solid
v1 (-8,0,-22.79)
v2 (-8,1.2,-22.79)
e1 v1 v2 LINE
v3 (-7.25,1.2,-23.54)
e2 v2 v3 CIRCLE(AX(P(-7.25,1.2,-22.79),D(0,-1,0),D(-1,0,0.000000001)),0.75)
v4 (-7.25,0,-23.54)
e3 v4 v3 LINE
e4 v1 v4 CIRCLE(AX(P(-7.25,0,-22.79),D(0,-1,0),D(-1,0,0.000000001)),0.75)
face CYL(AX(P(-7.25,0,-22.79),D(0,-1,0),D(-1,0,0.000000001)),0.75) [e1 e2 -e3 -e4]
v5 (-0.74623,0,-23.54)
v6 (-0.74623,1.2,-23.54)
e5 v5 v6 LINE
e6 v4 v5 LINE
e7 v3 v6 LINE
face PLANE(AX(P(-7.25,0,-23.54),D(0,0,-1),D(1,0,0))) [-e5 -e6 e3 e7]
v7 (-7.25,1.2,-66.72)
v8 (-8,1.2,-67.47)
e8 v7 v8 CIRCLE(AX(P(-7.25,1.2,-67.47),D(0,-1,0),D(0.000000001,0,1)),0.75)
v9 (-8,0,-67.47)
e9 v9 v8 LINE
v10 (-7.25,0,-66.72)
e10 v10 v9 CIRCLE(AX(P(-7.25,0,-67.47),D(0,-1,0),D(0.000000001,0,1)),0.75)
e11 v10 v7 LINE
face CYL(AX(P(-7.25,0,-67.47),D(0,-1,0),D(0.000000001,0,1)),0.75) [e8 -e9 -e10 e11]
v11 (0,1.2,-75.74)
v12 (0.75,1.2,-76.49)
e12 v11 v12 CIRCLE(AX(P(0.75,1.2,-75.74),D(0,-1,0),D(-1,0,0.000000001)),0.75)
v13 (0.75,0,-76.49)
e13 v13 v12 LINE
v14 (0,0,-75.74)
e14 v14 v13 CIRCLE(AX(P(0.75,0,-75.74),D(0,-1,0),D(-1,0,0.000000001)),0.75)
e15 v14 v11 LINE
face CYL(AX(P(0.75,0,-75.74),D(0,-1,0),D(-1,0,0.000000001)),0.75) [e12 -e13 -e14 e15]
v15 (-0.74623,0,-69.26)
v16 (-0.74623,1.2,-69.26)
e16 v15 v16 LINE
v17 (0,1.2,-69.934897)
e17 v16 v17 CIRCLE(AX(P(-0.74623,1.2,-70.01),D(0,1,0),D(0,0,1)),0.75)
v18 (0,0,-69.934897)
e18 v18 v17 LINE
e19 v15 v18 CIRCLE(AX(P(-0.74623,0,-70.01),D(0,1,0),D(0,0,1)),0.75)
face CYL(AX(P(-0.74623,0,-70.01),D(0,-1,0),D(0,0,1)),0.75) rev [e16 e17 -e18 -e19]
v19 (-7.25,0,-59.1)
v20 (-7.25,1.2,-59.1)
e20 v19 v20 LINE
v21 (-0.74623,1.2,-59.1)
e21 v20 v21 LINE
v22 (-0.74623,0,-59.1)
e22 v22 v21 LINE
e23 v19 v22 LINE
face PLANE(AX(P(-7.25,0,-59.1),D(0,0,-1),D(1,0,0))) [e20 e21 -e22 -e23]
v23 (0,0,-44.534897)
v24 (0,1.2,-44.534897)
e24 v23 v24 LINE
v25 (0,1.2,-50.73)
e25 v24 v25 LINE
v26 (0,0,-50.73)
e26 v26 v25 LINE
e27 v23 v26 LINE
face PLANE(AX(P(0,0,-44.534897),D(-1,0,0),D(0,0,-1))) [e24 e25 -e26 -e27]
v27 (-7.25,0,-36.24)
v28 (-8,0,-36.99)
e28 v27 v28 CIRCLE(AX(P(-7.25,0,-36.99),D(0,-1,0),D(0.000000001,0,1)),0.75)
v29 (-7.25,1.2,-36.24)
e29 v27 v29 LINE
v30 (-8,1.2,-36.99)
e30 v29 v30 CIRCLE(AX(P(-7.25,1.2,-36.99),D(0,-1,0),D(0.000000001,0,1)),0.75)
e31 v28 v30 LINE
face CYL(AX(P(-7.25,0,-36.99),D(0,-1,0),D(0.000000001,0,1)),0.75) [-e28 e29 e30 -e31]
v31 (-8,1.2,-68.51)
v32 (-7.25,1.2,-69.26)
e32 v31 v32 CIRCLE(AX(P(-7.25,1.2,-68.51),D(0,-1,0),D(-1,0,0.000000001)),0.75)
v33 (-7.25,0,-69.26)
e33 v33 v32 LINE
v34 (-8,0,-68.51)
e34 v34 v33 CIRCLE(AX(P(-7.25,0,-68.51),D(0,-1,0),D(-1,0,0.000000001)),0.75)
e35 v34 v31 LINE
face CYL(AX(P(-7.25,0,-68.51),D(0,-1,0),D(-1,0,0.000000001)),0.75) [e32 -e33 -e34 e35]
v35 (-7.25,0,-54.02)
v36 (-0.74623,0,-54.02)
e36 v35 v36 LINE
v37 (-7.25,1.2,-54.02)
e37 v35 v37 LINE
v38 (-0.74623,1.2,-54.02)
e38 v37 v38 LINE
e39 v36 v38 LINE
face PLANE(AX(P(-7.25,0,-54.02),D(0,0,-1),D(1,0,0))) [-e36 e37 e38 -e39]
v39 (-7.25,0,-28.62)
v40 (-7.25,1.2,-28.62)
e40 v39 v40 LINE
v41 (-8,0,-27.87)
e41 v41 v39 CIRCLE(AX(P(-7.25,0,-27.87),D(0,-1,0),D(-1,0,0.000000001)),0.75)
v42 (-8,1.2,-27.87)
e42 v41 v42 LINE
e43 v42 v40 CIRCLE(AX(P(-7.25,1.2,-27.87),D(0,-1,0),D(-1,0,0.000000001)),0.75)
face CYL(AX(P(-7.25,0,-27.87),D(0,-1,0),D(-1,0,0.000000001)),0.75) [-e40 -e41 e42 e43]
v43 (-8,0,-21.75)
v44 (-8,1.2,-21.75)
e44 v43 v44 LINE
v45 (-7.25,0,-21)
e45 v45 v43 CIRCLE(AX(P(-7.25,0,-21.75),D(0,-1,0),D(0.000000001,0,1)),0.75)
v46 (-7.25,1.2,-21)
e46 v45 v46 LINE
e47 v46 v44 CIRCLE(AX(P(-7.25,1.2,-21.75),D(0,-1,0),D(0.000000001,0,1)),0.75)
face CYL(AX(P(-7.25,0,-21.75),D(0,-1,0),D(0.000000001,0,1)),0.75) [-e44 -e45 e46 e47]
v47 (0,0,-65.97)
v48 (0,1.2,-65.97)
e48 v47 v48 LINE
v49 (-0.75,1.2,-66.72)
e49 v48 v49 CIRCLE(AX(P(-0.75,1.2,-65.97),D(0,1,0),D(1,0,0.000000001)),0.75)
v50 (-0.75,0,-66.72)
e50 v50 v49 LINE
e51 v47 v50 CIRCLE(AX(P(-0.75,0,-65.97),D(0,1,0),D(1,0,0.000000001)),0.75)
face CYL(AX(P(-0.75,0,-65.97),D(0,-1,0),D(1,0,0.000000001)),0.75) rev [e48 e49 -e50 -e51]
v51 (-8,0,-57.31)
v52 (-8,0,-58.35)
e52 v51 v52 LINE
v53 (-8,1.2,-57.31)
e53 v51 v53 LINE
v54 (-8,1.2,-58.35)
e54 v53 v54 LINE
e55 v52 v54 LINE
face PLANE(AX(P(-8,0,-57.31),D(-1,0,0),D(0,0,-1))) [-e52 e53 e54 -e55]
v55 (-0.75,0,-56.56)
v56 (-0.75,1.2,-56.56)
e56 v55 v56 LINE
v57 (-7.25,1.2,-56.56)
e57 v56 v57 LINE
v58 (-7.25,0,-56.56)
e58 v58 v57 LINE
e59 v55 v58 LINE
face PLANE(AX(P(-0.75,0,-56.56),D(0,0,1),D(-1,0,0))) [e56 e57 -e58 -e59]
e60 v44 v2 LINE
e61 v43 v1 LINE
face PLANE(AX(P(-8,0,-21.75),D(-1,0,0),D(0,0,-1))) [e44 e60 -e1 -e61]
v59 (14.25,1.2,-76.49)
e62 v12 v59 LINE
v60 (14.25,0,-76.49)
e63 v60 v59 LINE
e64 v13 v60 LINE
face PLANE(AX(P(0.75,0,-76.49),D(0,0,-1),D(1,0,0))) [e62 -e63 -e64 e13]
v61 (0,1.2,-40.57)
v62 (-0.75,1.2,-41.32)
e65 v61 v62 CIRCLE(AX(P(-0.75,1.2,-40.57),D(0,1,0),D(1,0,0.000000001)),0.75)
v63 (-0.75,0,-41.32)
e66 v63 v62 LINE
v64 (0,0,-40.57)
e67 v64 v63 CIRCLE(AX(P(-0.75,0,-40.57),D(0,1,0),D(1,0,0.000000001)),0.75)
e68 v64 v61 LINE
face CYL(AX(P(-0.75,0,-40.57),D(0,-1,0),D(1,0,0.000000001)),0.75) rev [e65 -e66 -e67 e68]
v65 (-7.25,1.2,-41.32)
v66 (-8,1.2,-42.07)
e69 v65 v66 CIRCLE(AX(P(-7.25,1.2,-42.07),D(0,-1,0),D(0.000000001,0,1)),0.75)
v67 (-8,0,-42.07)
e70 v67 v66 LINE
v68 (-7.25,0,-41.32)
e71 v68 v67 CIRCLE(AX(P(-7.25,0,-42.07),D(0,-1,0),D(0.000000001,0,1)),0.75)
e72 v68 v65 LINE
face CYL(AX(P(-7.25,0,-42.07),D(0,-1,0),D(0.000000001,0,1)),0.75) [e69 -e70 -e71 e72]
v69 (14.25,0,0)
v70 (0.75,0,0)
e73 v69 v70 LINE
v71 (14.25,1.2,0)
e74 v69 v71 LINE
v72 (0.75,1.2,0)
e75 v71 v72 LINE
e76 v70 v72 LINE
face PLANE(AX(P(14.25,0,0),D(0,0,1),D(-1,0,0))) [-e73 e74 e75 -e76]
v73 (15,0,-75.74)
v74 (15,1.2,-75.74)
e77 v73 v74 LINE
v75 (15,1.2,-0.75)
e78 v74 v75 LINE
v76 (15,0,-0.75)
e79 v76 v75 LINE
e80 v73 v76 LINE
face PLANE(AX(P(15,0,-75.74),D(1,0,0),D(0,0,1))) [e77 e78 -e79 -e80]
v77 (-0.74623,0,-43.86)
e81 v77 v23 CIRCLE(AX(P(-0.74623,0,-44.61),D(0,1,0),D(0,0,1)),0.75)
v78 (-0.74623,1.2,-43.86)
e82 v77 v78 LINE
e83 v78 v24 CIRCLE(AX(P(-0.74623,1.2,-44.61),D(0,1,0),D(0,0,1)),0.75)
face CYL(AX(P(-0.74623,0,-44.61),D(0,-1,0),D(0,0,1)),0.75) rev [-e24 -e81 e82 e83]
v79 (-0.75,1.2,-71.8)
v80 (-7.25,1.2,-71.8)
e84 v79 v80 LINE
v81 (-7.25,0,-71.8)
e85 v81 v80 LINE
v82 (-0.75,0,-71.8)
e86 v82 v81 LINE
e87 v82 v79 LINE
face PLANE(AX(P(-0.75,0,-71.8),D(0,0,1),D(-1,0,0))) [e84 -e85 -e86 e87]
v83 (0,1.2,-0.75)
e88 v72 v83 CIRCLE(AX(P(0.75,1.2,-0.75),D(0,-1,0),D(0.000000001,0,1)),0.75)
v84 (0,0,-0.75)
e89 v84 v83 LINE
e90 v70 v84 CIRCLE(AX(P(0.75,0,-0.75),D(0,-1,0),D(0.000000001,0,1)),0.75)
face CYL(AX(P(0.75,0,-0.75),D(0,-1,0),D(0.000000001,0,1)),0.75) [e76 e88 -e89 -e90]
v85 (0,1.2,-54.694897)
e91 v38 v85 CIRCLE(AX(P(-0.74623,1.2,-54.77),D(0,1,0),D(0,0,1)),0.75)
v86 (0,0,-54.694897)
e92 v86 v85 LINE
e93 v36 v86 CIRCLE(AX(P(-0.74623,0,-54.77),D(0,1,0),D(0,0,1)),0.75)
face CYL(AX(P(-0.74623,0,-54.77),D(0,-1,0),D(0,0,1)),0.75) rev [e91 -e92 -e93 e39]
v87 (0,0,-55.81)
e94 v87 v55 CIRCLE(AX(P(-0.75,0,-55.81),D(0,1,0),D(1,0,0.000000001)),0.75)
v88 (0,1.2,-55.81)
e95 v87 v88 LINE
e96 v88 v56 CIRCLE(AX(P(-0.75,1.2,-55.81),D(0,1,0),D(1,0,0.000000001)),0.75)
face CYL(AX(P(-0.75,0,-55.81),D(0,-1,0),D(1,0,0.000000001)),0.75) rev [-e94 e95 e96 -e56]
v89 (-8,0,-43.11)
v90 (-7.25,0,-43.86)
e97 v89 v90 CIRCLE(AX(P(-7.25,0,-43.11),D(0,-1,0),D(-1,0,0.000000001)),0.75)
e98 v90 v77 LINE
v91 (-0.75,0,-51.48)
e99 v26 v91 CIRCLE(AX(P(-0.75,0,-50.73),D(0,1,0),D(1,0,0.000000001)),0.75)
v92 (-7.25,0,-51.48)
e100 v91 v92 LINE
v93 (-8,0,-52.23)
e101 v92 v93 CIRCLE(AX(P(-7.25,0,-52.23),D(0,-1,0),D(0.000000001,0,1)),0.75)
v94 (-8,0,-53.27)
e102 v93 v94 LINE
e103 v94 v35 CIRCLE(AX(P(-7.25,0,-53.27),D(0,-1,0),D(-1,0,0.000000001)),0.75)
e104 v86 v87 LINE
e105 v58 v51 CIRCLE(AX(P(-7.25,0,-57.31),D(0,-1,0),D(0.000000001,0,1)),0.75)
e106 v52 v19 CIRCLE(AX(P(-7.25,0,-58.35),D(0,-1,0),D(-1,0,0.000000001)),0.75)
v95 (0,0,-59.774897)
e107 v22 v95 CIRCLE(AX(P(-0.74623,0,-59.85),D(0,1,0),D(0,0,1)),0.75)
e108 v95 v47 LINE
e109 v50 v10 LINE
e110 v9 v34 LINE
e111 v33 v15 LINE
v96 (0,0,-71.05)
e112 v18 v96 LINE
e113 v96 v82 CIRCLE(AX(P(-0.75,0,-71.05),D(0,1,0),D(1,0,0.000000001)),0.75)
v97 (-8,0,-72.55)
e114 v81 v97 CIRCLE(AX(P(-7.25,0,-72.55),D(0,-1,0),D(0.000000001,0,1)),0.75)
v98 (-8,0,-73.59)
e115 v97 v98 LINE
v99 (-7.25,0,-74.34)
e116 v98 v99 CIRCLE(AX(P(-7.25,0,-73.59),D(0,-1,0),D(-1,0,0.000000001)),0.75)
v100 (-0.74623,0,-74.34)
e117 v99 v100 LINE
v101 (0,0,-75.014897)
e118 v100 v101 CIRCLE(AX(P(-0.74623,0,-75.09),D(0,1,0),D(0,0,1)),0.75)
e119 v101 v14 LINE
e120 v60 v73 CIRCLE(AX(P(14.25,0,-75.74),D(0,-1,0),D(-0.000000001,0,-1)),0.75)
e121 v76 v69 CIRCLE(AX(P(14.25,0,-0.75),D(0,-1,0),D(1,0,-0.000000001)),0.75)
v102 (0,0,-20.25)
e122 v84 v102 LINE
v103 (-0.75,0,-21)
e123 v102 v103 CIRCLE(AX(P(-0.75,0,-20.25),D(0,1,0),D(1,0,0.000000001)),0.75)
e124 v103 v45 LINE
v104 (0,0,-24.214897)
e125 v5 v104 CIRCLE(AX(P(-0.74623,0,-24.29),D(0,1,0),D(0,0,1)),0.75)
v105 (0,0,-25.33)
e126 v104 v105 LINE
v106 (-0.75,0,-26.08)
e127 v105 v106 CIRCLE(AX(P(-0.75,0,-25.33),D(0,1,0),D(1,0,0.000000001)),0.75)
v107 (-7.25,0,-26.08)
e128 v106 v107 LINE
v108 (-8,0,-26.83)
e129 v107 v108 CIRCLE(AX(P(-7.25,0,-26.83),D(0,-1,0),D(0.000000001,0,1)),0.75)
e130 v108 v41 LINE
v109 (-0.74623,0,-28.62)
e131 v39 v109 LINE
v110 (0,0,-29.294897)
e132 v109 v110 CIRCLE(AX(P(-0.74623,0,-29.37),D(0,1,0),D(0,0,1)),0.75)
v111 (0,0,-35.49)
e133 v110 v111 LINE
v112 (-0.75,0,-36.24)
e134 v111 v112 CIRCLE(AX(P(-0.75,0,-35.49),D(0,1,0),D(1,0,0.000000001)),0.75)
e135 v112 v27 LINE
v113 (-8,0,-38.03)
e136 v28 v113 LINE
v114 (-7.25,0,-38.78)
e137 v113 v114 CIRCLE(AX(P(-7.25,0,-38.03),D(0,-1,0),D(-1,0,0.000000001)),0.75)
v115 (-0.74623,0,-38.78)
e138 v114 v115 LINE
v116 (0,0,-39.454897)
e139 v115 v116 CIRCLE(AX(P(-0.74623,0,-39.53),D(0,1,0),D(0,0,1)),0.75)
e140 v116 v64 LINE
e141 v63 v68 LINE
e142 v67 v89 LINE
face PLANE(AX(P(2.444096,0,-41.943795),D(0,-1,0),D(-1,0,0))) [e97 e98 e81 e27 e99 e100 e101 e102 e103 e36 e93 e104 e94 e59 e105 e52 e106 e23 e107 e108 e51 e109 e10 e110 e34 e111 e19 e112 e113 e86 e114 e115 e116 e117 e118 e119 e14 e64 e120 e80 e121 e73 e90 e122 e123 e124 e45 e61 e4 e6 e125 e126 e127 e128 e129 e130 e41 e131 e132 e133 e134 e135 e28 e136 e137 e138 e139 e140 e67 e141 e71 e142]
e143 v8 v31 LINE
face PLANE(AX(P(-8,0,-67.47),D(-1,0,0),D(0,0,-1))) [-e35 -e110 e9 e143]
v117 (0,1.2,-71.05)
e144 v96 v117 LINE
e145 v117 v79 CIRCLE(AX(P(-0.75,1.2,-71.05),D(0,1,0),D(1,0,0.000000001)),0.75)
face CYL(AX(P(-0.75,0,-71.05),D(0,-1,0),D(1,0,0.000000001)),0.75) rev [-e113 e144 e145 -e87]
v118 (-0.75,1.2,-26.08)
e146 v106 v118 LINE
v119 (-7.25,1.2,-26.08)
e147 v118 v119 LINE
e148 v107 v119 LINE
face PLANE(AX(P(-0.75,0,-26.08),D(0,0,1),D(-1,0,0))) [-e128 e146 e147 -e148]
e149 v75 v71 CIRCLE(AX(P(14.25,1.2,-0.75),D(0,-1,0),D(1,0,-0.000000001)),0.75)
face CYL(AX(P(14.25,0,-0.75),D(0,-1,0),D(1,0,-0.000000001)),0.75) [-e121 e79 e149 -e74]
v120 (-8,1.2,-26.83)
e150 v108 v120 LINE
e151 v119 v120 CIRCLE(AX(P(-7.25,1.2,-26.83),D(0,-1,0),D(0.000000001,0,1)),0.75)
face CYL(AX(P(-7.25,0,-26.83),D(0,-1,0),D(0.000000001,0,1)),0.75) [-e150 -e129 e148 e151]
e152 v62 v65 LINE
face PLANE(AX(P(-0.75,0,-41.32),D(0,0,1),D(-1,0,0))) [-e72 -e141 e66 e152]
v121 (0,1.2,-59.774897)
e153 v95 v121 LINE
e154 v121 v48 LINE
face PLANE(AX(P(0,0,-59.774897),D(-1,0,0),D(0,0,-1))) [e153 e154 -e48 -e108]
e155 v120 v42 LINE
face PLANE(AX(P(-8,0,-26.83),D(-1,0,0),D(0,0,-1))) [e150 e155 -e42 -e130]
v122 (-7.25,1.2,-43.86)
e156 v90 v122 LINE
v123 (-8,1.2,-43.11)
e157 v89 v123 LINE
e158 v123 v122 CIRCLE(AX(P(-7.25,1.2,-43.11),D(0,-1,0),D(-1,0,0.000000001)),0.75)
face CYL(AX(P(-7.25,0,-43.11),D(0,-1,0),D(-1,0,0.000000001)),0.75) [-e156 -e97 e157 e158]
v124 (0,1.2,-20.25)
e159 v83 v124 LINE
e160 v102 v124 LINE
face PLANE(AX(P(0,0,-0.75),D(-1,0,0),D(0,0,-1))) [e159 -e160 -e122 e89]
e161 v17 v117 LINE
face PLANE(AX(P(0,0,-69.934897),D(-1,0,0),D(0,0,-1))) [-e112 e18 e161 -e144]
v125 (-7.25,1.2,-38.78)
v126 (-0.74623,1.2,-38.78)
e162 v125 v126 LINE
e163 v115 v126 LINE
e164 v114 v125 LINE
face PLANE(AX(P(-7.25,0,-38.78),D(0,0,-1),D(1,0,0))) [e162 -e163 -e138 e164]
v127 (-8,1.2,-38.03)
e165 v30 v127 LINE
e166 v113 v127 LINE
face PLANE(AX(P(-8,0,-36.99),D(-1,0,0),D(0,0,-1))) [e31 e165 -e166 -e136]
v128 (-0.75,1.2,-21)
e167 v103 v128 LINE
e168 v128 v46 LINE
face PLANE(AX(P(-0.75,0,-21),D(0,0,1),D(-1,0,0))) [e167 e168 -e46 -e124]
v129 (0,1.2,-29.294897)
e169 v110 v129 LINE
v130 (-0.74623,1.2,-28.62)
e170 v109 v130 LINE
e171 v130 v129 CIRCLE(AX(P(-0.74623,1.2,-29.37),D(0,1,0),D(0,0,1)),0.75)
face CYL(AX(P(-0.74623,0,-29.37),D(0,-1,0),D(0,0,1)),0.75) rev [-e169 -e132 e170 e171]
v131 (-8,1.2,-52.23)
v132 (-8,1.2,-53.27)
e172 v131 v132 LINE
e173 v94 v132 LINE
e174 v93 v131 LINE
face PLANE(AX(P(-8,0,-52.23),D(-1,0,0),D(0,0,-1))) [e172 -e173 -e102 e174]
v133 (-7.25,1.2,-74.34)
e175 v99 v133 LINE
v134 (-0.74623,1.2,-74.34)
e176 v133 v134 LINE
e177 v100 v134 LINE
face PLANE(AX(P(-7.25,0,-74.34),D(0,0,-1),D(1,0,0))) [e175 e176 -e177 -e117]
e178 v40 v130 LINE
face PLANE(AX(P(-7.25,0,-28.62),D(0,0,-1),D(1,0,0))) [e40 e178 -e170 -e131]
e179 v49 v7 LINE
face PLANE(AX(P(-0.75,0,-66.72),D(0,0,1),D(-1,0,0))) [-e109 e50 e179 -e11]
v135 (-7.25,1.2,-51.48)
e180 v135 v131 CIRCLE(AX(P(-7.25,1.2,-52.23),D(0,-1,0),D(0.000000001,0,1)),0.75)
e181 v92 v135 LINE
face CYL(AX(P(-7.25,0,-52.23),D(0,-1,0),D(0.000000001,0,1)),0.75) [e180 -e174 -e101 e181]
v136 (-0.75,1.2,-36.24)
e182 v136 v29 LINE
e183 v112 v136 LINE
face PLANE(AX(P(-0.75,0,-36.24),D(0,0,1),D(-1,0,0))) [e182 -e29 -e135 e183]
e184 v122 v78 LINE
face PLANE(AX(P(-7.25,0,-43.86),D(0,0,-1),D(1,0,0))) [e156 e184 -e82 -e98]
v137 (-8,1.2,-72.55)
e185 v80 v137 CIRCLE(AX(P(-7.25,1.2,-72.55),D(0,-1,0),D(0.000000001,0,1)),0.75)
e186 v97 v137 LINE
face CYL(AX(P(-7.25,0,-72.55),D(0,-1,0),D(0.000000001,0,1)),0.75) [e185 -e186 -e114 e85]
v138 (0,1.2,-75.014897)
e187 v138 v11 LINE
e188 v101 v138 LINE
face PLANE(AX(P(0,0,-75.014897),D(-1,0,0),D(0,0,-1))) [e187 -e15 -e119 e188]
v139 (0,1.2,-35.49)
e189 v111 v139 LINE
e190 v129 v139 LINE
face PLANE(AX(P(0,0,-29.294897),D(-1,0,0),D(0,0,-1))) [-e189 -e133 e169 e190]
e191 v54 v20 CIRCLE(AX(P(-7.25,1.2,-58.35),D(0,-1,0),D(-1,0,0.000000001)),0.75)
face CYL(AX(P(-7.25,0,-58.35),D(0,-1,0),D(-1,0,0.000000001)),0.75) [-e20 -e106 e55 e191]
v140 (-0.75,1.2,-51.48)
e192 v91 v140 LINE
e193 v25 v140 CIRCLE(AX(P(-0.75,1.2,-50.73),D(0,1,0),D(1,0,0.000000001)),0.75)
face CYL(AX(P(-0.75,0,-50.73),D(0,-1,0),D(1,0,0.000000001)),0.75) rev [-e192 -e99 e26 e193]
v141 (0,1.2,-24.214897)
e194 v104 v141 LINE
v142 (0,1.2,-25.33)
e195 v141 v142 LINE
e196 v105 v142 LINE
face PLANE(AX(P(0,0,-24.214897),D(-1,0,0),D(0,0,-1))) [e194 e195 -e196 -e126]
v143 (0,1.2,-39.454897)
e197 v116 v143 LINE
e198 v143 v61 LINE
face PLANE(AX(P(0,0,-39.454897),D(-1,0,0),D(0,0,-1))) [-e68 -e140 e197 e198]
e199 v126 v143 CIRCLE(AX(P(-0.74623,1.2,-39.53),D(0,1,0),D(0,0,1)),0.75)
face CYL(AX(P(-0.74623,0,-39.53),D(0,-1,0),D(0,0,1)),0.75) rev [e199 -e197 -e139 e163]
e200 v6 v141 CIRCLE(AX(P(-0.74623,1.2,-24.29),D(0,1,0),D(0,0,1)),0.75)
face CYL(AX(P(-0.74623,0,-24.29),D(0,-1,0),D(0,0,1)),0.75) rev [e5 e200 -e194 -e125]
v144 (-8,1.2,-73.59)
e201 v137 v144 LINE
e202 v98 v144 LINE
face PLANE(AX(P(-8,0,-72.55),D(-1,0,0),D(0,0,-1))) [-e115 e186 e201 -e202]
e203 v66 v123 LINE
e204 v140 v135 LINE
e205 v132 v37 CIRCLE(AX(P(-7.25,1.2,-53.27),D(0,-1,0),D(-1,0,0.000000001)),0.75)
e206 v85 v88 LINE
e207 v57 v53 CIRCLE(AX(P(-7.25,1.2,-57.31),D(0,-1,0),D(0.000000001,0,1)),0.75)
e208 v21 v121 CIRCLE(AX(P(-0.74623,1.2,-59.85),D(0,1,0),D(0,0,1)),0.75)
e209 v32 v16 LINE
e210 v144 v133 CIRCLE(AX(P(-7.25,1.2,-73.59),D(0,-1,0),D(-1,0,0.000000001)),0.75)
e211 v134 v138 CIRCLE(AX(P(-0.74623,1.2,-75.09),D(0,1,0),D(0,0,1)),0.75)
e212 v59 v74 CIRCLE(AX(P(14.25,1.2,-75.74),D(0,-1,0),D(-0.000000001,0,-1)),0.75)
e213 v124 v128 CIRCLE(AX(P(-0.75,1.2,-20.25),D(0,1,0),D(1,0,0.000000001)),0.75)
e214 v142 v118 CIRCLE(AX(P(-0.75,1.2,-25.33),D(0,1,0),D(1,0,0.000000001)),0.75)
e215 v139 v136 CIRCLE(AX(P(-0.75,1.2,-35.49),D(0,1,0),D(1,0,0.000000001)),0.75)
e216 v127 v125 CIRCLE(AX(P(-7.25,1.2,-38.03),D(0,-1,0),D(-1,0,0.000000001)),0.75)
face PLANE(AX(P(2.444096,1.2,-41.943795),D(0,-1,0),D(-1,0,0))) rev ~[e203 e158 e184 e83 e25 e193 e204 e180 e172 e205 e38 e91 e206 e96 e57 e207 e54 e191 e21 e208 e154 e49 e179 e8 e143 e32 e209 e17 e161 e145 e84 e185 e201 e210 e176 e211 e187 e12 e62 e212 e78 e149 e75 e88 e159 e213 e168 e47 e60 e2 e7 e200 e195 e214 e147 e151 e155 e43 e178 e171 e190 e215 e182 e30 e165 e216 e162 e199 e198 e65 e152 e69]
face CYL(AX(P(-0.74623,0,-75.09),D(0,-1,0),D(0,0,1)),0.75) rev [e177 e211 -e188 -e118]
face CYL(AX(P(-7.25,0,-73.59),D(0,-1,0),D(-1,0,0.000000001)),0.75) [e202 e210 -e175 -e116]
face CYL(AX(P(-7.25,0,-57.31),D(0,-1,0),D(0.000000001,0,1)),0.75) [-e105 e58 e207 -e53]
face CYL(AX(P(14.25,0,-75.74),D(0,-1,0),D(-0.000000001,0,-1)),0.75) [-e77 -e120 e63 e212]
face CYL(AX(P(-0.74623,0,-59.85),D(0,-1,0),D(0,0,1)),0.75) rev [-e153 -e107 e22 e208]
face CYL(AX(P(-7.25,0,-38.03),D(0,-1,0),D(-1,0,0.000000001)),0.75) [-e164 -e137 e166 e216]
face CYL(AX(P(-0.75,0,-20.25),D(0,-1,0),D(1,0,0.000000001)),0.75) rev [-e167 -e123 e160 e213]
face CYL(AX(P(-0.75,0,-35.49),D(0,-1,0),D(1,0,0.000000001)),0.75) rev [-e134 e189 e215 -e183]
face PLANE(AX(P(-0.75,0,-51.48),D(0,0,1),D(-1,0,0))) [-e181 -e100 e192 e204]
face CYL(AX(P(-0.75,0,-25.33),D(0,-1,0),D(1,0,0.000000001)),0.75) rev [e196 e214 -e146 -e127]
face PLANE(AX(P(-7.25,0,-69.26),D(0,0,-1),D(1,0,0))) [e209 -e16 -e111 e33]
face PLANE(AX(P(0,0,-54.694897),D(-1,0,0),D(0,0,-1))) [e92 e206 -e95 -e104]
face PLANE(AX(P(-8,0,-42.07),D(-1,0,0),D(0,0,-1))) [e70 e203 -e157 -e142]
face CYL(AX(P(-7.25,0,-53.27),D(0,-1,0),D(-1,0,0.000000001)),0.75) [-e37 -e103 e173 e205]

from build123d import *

# Parameters (mm, degrees)
BOSS_EXTRUDE1_DEPTH = 1.2


with BuildPart() as part:
    # Sketch1 → Boss-Extrude1 (new body)
    with BuildSketch(Plane(origin=(0, 0, 0), x_dir=(1, 0, 0), z_dir=(0, 1, 0))):
        with BuildLine():
            Line((-0.75, 21), (-7.25, 21))
            ThreePointArc((-7.25, 21), (-7.780330086, 21.219669914), (-8, 21.75))
            Line((-8, 21.75), (-8, 22.79))
            ThreePointArc((-8, 22.79), (-7.780330086, 23.320330086), (-7.25, 23.54))
            Line((-7.25, 23.54), (-0.746230206, 23.54))
            ThreePointArc((-0.746230206, 23.54), (-0.243153345, 23.733750351), (0, 24.214896874))
            Line((0, 24.214896874), (0, 25.33))
            ThreePointArc((0, 25.33), (-0.219669914, 25.860330086), (-0.75, 26.08))
            Line((-0.75, 26.08), (-7.25, 26.08))
            ThreePointArc((-7.25, 26.08), (-7.780330086, 26.299669914), (-8, 26.83))
            Line((-8, 26.83), (-8, 27.87))
            ThreePointArc((-8, 27.87), (-7.780330086, 28.400330086), (-7.25, 28.62))
            Line((-7.25, 28.62), (-0.746230206, 28.62))
            ThreePointArc((-0.746230206, 28.62), (-0.243153345, 28.813750351), (0, 29.294896874))
            Line((0, 29.294896874), (0, 35.49))
            ThreePointArc((0, 35.49), (-0.219669914, 36.020330086), (-0.75, 36.24))
            Line((-0.75, 36.24), (-7.25, 36.24))
            ThreePointArc((-7.25, 36.24), (-7.780330086, 36.459669914), (-8, 36.99))
            Line((-8, 36.99), (-8, 38.03))
            ThreePointArc((-8, 38.03), (-7.780330086, 38.560330086), (-7.25, 38.78))
            Line((-7.25, 38.78), (-0.746230206, 38.78))
            ThreePointArc((-0.746230206, 38.78), (-0.243153345, 38.973750351), (0, 39.454896874))
            Line((0, 39.454896874), (0, 40.57))
            ThreePointArc((0, 40.57), (-0.219669914, 41.100330086), (-0.75, 41.32))
            Line((-0.75, 41.32), (-7.25, 41.32))
            ThreePointArc((-7.25, 41.32), (-7.780330086, 41.539669914), (-8, 42.07))
            Line((-8, 42.07), (-8, 43.11))
            ThreePointArc((-8, 43.11), (-7.780330086, 43.640330086), (-7.25, 43.86))
            Line((-7.25, 43.86), (-0.746230206, 43.86))
            ThreePointArc((-0.746230206, 43.86), (-0.243153345, 44.053750351), (0, 44.534896874))
            Line((0, 44.534896874), (0, 50.73))
            ThreePointArc((0, 50.73), (-0.219669914, 51.260330086), (-0.75, 51.48))
            Line((-0.75, 51.48), (-7.25, 51.48))
            ThreePointArc((-7.25, 51.48), (-7.780330086, 51.699669914), (-8, 52.23))
            Line((-8, 52.23), (-8, 53.27))
            ThreePointArc((-8, 53.27), (-7.780330086, 53.800330086), (-7.25, 54.02))
            Line((-7.25, 54.02), (-0.746230206, 54.02))
            ThreePointArc((-0.746230206, 54.02), (-0.243153345, 54.213750351), (0, 54.694896874))
            Line((0, 54.694896874), (0, 55.81))
            ThreePointArc((0, 55.81), (-0.219669914, 56.340330086), (-0.75, 56.56))
            Line((-0.75, 56.56), (-7.25, 56.56))
            ThreePointArc((-7.25, 56.56), (-7.780330086, 56.779669914), (-8, 57.31))
            Line((-8, 57.31), (-8, 58.35))
            ThreePointArc((-8, 58.35), (-7.780330086, 58.880330086), (-7.25, 59.1))
            Line((-7.25, 59.1), (-0.746230206, 59.1))
            ThreePointArc((-0.746230206, 59.1), (-0.243153345, 59.293750351), (0, 59.774896874))
            Line((0, 59.774896874), (0, 65.97))
            ThreePointArc((0, 65.97), (-0.219669914, 66.500330086), (-0.75, 66.72))
            Line((-0.75, 66.72), (-7.25, 66.72))
            ThreePointArc((-7.25, 66.72), (-7.780330086, 66.939669914), (-8, 67.47))
            Line((-8, 67.47), (-8, 68.51))
            ThreePointArc((-8, 68.51), (-7.780330086, 69.040330086), (-7.25, 69.26))
            Line((-7.25, 69.26), (-0.746230206, 69.26))
            ThreePointArc((-0.746230206, 69.26), (-0.243153345, 69.453750351), (0, 69.934896874))
            Line((0, 69.934896874), (0, 71.05))
            ThreePointArc((0, 71.05), (-0.219669914, 71.580330086), (-0.75, 71.8))
            Line((-0.75, 71.8), (-7.25, 71.8))
            ThreePointArc((-7.25, 71.8), (-7.780330086, 72.019669914), (-8, 72.55))
            Line((-8, 72.55), (-8, 73.59))
            ThreePointArc((-8, 73.59), (-7.780330086, 74.120330086), (-7.25, 74.34))
            Line((-7.25, 74.34), (-0.746230206, 74.34))
            ThreePointArc((-0.746230206, 74.34), (-0.243153345, 74.533750351), (0, 75.014896874))
            Line((0, 75.014896874), (0, 75.74))
            ThreePointArc((0, 75.74), (0.219669914, 76.270330086), (0.75, 76.49))
            Line((0.75, 76.49), (14.25, 76.49))
            ThreePointArc((14.25, 76.49), (14.780330086, 76.270330086), (15, 75.74))
            Line((15, 75.74), (15, 0.75))
            ThreePointArc((15, 0.75), (14.780330086, 0.219669914), (14.25, 0))
            Line((14.25, 0), (0.75, 0))
            ThreePointArc((0.75, 0), (0.219669914, 0.219669914), (0, 0.75))
            Line((0, 0.75), (0, 20.25))
            ThreePointArc((0, 20.25), (-0.219669914, 20.780330086), (-0.75, 21))
        make_face()
    extrude(amount=BOSS_EXTRUDE1_DEPTH)


solid = part.part
